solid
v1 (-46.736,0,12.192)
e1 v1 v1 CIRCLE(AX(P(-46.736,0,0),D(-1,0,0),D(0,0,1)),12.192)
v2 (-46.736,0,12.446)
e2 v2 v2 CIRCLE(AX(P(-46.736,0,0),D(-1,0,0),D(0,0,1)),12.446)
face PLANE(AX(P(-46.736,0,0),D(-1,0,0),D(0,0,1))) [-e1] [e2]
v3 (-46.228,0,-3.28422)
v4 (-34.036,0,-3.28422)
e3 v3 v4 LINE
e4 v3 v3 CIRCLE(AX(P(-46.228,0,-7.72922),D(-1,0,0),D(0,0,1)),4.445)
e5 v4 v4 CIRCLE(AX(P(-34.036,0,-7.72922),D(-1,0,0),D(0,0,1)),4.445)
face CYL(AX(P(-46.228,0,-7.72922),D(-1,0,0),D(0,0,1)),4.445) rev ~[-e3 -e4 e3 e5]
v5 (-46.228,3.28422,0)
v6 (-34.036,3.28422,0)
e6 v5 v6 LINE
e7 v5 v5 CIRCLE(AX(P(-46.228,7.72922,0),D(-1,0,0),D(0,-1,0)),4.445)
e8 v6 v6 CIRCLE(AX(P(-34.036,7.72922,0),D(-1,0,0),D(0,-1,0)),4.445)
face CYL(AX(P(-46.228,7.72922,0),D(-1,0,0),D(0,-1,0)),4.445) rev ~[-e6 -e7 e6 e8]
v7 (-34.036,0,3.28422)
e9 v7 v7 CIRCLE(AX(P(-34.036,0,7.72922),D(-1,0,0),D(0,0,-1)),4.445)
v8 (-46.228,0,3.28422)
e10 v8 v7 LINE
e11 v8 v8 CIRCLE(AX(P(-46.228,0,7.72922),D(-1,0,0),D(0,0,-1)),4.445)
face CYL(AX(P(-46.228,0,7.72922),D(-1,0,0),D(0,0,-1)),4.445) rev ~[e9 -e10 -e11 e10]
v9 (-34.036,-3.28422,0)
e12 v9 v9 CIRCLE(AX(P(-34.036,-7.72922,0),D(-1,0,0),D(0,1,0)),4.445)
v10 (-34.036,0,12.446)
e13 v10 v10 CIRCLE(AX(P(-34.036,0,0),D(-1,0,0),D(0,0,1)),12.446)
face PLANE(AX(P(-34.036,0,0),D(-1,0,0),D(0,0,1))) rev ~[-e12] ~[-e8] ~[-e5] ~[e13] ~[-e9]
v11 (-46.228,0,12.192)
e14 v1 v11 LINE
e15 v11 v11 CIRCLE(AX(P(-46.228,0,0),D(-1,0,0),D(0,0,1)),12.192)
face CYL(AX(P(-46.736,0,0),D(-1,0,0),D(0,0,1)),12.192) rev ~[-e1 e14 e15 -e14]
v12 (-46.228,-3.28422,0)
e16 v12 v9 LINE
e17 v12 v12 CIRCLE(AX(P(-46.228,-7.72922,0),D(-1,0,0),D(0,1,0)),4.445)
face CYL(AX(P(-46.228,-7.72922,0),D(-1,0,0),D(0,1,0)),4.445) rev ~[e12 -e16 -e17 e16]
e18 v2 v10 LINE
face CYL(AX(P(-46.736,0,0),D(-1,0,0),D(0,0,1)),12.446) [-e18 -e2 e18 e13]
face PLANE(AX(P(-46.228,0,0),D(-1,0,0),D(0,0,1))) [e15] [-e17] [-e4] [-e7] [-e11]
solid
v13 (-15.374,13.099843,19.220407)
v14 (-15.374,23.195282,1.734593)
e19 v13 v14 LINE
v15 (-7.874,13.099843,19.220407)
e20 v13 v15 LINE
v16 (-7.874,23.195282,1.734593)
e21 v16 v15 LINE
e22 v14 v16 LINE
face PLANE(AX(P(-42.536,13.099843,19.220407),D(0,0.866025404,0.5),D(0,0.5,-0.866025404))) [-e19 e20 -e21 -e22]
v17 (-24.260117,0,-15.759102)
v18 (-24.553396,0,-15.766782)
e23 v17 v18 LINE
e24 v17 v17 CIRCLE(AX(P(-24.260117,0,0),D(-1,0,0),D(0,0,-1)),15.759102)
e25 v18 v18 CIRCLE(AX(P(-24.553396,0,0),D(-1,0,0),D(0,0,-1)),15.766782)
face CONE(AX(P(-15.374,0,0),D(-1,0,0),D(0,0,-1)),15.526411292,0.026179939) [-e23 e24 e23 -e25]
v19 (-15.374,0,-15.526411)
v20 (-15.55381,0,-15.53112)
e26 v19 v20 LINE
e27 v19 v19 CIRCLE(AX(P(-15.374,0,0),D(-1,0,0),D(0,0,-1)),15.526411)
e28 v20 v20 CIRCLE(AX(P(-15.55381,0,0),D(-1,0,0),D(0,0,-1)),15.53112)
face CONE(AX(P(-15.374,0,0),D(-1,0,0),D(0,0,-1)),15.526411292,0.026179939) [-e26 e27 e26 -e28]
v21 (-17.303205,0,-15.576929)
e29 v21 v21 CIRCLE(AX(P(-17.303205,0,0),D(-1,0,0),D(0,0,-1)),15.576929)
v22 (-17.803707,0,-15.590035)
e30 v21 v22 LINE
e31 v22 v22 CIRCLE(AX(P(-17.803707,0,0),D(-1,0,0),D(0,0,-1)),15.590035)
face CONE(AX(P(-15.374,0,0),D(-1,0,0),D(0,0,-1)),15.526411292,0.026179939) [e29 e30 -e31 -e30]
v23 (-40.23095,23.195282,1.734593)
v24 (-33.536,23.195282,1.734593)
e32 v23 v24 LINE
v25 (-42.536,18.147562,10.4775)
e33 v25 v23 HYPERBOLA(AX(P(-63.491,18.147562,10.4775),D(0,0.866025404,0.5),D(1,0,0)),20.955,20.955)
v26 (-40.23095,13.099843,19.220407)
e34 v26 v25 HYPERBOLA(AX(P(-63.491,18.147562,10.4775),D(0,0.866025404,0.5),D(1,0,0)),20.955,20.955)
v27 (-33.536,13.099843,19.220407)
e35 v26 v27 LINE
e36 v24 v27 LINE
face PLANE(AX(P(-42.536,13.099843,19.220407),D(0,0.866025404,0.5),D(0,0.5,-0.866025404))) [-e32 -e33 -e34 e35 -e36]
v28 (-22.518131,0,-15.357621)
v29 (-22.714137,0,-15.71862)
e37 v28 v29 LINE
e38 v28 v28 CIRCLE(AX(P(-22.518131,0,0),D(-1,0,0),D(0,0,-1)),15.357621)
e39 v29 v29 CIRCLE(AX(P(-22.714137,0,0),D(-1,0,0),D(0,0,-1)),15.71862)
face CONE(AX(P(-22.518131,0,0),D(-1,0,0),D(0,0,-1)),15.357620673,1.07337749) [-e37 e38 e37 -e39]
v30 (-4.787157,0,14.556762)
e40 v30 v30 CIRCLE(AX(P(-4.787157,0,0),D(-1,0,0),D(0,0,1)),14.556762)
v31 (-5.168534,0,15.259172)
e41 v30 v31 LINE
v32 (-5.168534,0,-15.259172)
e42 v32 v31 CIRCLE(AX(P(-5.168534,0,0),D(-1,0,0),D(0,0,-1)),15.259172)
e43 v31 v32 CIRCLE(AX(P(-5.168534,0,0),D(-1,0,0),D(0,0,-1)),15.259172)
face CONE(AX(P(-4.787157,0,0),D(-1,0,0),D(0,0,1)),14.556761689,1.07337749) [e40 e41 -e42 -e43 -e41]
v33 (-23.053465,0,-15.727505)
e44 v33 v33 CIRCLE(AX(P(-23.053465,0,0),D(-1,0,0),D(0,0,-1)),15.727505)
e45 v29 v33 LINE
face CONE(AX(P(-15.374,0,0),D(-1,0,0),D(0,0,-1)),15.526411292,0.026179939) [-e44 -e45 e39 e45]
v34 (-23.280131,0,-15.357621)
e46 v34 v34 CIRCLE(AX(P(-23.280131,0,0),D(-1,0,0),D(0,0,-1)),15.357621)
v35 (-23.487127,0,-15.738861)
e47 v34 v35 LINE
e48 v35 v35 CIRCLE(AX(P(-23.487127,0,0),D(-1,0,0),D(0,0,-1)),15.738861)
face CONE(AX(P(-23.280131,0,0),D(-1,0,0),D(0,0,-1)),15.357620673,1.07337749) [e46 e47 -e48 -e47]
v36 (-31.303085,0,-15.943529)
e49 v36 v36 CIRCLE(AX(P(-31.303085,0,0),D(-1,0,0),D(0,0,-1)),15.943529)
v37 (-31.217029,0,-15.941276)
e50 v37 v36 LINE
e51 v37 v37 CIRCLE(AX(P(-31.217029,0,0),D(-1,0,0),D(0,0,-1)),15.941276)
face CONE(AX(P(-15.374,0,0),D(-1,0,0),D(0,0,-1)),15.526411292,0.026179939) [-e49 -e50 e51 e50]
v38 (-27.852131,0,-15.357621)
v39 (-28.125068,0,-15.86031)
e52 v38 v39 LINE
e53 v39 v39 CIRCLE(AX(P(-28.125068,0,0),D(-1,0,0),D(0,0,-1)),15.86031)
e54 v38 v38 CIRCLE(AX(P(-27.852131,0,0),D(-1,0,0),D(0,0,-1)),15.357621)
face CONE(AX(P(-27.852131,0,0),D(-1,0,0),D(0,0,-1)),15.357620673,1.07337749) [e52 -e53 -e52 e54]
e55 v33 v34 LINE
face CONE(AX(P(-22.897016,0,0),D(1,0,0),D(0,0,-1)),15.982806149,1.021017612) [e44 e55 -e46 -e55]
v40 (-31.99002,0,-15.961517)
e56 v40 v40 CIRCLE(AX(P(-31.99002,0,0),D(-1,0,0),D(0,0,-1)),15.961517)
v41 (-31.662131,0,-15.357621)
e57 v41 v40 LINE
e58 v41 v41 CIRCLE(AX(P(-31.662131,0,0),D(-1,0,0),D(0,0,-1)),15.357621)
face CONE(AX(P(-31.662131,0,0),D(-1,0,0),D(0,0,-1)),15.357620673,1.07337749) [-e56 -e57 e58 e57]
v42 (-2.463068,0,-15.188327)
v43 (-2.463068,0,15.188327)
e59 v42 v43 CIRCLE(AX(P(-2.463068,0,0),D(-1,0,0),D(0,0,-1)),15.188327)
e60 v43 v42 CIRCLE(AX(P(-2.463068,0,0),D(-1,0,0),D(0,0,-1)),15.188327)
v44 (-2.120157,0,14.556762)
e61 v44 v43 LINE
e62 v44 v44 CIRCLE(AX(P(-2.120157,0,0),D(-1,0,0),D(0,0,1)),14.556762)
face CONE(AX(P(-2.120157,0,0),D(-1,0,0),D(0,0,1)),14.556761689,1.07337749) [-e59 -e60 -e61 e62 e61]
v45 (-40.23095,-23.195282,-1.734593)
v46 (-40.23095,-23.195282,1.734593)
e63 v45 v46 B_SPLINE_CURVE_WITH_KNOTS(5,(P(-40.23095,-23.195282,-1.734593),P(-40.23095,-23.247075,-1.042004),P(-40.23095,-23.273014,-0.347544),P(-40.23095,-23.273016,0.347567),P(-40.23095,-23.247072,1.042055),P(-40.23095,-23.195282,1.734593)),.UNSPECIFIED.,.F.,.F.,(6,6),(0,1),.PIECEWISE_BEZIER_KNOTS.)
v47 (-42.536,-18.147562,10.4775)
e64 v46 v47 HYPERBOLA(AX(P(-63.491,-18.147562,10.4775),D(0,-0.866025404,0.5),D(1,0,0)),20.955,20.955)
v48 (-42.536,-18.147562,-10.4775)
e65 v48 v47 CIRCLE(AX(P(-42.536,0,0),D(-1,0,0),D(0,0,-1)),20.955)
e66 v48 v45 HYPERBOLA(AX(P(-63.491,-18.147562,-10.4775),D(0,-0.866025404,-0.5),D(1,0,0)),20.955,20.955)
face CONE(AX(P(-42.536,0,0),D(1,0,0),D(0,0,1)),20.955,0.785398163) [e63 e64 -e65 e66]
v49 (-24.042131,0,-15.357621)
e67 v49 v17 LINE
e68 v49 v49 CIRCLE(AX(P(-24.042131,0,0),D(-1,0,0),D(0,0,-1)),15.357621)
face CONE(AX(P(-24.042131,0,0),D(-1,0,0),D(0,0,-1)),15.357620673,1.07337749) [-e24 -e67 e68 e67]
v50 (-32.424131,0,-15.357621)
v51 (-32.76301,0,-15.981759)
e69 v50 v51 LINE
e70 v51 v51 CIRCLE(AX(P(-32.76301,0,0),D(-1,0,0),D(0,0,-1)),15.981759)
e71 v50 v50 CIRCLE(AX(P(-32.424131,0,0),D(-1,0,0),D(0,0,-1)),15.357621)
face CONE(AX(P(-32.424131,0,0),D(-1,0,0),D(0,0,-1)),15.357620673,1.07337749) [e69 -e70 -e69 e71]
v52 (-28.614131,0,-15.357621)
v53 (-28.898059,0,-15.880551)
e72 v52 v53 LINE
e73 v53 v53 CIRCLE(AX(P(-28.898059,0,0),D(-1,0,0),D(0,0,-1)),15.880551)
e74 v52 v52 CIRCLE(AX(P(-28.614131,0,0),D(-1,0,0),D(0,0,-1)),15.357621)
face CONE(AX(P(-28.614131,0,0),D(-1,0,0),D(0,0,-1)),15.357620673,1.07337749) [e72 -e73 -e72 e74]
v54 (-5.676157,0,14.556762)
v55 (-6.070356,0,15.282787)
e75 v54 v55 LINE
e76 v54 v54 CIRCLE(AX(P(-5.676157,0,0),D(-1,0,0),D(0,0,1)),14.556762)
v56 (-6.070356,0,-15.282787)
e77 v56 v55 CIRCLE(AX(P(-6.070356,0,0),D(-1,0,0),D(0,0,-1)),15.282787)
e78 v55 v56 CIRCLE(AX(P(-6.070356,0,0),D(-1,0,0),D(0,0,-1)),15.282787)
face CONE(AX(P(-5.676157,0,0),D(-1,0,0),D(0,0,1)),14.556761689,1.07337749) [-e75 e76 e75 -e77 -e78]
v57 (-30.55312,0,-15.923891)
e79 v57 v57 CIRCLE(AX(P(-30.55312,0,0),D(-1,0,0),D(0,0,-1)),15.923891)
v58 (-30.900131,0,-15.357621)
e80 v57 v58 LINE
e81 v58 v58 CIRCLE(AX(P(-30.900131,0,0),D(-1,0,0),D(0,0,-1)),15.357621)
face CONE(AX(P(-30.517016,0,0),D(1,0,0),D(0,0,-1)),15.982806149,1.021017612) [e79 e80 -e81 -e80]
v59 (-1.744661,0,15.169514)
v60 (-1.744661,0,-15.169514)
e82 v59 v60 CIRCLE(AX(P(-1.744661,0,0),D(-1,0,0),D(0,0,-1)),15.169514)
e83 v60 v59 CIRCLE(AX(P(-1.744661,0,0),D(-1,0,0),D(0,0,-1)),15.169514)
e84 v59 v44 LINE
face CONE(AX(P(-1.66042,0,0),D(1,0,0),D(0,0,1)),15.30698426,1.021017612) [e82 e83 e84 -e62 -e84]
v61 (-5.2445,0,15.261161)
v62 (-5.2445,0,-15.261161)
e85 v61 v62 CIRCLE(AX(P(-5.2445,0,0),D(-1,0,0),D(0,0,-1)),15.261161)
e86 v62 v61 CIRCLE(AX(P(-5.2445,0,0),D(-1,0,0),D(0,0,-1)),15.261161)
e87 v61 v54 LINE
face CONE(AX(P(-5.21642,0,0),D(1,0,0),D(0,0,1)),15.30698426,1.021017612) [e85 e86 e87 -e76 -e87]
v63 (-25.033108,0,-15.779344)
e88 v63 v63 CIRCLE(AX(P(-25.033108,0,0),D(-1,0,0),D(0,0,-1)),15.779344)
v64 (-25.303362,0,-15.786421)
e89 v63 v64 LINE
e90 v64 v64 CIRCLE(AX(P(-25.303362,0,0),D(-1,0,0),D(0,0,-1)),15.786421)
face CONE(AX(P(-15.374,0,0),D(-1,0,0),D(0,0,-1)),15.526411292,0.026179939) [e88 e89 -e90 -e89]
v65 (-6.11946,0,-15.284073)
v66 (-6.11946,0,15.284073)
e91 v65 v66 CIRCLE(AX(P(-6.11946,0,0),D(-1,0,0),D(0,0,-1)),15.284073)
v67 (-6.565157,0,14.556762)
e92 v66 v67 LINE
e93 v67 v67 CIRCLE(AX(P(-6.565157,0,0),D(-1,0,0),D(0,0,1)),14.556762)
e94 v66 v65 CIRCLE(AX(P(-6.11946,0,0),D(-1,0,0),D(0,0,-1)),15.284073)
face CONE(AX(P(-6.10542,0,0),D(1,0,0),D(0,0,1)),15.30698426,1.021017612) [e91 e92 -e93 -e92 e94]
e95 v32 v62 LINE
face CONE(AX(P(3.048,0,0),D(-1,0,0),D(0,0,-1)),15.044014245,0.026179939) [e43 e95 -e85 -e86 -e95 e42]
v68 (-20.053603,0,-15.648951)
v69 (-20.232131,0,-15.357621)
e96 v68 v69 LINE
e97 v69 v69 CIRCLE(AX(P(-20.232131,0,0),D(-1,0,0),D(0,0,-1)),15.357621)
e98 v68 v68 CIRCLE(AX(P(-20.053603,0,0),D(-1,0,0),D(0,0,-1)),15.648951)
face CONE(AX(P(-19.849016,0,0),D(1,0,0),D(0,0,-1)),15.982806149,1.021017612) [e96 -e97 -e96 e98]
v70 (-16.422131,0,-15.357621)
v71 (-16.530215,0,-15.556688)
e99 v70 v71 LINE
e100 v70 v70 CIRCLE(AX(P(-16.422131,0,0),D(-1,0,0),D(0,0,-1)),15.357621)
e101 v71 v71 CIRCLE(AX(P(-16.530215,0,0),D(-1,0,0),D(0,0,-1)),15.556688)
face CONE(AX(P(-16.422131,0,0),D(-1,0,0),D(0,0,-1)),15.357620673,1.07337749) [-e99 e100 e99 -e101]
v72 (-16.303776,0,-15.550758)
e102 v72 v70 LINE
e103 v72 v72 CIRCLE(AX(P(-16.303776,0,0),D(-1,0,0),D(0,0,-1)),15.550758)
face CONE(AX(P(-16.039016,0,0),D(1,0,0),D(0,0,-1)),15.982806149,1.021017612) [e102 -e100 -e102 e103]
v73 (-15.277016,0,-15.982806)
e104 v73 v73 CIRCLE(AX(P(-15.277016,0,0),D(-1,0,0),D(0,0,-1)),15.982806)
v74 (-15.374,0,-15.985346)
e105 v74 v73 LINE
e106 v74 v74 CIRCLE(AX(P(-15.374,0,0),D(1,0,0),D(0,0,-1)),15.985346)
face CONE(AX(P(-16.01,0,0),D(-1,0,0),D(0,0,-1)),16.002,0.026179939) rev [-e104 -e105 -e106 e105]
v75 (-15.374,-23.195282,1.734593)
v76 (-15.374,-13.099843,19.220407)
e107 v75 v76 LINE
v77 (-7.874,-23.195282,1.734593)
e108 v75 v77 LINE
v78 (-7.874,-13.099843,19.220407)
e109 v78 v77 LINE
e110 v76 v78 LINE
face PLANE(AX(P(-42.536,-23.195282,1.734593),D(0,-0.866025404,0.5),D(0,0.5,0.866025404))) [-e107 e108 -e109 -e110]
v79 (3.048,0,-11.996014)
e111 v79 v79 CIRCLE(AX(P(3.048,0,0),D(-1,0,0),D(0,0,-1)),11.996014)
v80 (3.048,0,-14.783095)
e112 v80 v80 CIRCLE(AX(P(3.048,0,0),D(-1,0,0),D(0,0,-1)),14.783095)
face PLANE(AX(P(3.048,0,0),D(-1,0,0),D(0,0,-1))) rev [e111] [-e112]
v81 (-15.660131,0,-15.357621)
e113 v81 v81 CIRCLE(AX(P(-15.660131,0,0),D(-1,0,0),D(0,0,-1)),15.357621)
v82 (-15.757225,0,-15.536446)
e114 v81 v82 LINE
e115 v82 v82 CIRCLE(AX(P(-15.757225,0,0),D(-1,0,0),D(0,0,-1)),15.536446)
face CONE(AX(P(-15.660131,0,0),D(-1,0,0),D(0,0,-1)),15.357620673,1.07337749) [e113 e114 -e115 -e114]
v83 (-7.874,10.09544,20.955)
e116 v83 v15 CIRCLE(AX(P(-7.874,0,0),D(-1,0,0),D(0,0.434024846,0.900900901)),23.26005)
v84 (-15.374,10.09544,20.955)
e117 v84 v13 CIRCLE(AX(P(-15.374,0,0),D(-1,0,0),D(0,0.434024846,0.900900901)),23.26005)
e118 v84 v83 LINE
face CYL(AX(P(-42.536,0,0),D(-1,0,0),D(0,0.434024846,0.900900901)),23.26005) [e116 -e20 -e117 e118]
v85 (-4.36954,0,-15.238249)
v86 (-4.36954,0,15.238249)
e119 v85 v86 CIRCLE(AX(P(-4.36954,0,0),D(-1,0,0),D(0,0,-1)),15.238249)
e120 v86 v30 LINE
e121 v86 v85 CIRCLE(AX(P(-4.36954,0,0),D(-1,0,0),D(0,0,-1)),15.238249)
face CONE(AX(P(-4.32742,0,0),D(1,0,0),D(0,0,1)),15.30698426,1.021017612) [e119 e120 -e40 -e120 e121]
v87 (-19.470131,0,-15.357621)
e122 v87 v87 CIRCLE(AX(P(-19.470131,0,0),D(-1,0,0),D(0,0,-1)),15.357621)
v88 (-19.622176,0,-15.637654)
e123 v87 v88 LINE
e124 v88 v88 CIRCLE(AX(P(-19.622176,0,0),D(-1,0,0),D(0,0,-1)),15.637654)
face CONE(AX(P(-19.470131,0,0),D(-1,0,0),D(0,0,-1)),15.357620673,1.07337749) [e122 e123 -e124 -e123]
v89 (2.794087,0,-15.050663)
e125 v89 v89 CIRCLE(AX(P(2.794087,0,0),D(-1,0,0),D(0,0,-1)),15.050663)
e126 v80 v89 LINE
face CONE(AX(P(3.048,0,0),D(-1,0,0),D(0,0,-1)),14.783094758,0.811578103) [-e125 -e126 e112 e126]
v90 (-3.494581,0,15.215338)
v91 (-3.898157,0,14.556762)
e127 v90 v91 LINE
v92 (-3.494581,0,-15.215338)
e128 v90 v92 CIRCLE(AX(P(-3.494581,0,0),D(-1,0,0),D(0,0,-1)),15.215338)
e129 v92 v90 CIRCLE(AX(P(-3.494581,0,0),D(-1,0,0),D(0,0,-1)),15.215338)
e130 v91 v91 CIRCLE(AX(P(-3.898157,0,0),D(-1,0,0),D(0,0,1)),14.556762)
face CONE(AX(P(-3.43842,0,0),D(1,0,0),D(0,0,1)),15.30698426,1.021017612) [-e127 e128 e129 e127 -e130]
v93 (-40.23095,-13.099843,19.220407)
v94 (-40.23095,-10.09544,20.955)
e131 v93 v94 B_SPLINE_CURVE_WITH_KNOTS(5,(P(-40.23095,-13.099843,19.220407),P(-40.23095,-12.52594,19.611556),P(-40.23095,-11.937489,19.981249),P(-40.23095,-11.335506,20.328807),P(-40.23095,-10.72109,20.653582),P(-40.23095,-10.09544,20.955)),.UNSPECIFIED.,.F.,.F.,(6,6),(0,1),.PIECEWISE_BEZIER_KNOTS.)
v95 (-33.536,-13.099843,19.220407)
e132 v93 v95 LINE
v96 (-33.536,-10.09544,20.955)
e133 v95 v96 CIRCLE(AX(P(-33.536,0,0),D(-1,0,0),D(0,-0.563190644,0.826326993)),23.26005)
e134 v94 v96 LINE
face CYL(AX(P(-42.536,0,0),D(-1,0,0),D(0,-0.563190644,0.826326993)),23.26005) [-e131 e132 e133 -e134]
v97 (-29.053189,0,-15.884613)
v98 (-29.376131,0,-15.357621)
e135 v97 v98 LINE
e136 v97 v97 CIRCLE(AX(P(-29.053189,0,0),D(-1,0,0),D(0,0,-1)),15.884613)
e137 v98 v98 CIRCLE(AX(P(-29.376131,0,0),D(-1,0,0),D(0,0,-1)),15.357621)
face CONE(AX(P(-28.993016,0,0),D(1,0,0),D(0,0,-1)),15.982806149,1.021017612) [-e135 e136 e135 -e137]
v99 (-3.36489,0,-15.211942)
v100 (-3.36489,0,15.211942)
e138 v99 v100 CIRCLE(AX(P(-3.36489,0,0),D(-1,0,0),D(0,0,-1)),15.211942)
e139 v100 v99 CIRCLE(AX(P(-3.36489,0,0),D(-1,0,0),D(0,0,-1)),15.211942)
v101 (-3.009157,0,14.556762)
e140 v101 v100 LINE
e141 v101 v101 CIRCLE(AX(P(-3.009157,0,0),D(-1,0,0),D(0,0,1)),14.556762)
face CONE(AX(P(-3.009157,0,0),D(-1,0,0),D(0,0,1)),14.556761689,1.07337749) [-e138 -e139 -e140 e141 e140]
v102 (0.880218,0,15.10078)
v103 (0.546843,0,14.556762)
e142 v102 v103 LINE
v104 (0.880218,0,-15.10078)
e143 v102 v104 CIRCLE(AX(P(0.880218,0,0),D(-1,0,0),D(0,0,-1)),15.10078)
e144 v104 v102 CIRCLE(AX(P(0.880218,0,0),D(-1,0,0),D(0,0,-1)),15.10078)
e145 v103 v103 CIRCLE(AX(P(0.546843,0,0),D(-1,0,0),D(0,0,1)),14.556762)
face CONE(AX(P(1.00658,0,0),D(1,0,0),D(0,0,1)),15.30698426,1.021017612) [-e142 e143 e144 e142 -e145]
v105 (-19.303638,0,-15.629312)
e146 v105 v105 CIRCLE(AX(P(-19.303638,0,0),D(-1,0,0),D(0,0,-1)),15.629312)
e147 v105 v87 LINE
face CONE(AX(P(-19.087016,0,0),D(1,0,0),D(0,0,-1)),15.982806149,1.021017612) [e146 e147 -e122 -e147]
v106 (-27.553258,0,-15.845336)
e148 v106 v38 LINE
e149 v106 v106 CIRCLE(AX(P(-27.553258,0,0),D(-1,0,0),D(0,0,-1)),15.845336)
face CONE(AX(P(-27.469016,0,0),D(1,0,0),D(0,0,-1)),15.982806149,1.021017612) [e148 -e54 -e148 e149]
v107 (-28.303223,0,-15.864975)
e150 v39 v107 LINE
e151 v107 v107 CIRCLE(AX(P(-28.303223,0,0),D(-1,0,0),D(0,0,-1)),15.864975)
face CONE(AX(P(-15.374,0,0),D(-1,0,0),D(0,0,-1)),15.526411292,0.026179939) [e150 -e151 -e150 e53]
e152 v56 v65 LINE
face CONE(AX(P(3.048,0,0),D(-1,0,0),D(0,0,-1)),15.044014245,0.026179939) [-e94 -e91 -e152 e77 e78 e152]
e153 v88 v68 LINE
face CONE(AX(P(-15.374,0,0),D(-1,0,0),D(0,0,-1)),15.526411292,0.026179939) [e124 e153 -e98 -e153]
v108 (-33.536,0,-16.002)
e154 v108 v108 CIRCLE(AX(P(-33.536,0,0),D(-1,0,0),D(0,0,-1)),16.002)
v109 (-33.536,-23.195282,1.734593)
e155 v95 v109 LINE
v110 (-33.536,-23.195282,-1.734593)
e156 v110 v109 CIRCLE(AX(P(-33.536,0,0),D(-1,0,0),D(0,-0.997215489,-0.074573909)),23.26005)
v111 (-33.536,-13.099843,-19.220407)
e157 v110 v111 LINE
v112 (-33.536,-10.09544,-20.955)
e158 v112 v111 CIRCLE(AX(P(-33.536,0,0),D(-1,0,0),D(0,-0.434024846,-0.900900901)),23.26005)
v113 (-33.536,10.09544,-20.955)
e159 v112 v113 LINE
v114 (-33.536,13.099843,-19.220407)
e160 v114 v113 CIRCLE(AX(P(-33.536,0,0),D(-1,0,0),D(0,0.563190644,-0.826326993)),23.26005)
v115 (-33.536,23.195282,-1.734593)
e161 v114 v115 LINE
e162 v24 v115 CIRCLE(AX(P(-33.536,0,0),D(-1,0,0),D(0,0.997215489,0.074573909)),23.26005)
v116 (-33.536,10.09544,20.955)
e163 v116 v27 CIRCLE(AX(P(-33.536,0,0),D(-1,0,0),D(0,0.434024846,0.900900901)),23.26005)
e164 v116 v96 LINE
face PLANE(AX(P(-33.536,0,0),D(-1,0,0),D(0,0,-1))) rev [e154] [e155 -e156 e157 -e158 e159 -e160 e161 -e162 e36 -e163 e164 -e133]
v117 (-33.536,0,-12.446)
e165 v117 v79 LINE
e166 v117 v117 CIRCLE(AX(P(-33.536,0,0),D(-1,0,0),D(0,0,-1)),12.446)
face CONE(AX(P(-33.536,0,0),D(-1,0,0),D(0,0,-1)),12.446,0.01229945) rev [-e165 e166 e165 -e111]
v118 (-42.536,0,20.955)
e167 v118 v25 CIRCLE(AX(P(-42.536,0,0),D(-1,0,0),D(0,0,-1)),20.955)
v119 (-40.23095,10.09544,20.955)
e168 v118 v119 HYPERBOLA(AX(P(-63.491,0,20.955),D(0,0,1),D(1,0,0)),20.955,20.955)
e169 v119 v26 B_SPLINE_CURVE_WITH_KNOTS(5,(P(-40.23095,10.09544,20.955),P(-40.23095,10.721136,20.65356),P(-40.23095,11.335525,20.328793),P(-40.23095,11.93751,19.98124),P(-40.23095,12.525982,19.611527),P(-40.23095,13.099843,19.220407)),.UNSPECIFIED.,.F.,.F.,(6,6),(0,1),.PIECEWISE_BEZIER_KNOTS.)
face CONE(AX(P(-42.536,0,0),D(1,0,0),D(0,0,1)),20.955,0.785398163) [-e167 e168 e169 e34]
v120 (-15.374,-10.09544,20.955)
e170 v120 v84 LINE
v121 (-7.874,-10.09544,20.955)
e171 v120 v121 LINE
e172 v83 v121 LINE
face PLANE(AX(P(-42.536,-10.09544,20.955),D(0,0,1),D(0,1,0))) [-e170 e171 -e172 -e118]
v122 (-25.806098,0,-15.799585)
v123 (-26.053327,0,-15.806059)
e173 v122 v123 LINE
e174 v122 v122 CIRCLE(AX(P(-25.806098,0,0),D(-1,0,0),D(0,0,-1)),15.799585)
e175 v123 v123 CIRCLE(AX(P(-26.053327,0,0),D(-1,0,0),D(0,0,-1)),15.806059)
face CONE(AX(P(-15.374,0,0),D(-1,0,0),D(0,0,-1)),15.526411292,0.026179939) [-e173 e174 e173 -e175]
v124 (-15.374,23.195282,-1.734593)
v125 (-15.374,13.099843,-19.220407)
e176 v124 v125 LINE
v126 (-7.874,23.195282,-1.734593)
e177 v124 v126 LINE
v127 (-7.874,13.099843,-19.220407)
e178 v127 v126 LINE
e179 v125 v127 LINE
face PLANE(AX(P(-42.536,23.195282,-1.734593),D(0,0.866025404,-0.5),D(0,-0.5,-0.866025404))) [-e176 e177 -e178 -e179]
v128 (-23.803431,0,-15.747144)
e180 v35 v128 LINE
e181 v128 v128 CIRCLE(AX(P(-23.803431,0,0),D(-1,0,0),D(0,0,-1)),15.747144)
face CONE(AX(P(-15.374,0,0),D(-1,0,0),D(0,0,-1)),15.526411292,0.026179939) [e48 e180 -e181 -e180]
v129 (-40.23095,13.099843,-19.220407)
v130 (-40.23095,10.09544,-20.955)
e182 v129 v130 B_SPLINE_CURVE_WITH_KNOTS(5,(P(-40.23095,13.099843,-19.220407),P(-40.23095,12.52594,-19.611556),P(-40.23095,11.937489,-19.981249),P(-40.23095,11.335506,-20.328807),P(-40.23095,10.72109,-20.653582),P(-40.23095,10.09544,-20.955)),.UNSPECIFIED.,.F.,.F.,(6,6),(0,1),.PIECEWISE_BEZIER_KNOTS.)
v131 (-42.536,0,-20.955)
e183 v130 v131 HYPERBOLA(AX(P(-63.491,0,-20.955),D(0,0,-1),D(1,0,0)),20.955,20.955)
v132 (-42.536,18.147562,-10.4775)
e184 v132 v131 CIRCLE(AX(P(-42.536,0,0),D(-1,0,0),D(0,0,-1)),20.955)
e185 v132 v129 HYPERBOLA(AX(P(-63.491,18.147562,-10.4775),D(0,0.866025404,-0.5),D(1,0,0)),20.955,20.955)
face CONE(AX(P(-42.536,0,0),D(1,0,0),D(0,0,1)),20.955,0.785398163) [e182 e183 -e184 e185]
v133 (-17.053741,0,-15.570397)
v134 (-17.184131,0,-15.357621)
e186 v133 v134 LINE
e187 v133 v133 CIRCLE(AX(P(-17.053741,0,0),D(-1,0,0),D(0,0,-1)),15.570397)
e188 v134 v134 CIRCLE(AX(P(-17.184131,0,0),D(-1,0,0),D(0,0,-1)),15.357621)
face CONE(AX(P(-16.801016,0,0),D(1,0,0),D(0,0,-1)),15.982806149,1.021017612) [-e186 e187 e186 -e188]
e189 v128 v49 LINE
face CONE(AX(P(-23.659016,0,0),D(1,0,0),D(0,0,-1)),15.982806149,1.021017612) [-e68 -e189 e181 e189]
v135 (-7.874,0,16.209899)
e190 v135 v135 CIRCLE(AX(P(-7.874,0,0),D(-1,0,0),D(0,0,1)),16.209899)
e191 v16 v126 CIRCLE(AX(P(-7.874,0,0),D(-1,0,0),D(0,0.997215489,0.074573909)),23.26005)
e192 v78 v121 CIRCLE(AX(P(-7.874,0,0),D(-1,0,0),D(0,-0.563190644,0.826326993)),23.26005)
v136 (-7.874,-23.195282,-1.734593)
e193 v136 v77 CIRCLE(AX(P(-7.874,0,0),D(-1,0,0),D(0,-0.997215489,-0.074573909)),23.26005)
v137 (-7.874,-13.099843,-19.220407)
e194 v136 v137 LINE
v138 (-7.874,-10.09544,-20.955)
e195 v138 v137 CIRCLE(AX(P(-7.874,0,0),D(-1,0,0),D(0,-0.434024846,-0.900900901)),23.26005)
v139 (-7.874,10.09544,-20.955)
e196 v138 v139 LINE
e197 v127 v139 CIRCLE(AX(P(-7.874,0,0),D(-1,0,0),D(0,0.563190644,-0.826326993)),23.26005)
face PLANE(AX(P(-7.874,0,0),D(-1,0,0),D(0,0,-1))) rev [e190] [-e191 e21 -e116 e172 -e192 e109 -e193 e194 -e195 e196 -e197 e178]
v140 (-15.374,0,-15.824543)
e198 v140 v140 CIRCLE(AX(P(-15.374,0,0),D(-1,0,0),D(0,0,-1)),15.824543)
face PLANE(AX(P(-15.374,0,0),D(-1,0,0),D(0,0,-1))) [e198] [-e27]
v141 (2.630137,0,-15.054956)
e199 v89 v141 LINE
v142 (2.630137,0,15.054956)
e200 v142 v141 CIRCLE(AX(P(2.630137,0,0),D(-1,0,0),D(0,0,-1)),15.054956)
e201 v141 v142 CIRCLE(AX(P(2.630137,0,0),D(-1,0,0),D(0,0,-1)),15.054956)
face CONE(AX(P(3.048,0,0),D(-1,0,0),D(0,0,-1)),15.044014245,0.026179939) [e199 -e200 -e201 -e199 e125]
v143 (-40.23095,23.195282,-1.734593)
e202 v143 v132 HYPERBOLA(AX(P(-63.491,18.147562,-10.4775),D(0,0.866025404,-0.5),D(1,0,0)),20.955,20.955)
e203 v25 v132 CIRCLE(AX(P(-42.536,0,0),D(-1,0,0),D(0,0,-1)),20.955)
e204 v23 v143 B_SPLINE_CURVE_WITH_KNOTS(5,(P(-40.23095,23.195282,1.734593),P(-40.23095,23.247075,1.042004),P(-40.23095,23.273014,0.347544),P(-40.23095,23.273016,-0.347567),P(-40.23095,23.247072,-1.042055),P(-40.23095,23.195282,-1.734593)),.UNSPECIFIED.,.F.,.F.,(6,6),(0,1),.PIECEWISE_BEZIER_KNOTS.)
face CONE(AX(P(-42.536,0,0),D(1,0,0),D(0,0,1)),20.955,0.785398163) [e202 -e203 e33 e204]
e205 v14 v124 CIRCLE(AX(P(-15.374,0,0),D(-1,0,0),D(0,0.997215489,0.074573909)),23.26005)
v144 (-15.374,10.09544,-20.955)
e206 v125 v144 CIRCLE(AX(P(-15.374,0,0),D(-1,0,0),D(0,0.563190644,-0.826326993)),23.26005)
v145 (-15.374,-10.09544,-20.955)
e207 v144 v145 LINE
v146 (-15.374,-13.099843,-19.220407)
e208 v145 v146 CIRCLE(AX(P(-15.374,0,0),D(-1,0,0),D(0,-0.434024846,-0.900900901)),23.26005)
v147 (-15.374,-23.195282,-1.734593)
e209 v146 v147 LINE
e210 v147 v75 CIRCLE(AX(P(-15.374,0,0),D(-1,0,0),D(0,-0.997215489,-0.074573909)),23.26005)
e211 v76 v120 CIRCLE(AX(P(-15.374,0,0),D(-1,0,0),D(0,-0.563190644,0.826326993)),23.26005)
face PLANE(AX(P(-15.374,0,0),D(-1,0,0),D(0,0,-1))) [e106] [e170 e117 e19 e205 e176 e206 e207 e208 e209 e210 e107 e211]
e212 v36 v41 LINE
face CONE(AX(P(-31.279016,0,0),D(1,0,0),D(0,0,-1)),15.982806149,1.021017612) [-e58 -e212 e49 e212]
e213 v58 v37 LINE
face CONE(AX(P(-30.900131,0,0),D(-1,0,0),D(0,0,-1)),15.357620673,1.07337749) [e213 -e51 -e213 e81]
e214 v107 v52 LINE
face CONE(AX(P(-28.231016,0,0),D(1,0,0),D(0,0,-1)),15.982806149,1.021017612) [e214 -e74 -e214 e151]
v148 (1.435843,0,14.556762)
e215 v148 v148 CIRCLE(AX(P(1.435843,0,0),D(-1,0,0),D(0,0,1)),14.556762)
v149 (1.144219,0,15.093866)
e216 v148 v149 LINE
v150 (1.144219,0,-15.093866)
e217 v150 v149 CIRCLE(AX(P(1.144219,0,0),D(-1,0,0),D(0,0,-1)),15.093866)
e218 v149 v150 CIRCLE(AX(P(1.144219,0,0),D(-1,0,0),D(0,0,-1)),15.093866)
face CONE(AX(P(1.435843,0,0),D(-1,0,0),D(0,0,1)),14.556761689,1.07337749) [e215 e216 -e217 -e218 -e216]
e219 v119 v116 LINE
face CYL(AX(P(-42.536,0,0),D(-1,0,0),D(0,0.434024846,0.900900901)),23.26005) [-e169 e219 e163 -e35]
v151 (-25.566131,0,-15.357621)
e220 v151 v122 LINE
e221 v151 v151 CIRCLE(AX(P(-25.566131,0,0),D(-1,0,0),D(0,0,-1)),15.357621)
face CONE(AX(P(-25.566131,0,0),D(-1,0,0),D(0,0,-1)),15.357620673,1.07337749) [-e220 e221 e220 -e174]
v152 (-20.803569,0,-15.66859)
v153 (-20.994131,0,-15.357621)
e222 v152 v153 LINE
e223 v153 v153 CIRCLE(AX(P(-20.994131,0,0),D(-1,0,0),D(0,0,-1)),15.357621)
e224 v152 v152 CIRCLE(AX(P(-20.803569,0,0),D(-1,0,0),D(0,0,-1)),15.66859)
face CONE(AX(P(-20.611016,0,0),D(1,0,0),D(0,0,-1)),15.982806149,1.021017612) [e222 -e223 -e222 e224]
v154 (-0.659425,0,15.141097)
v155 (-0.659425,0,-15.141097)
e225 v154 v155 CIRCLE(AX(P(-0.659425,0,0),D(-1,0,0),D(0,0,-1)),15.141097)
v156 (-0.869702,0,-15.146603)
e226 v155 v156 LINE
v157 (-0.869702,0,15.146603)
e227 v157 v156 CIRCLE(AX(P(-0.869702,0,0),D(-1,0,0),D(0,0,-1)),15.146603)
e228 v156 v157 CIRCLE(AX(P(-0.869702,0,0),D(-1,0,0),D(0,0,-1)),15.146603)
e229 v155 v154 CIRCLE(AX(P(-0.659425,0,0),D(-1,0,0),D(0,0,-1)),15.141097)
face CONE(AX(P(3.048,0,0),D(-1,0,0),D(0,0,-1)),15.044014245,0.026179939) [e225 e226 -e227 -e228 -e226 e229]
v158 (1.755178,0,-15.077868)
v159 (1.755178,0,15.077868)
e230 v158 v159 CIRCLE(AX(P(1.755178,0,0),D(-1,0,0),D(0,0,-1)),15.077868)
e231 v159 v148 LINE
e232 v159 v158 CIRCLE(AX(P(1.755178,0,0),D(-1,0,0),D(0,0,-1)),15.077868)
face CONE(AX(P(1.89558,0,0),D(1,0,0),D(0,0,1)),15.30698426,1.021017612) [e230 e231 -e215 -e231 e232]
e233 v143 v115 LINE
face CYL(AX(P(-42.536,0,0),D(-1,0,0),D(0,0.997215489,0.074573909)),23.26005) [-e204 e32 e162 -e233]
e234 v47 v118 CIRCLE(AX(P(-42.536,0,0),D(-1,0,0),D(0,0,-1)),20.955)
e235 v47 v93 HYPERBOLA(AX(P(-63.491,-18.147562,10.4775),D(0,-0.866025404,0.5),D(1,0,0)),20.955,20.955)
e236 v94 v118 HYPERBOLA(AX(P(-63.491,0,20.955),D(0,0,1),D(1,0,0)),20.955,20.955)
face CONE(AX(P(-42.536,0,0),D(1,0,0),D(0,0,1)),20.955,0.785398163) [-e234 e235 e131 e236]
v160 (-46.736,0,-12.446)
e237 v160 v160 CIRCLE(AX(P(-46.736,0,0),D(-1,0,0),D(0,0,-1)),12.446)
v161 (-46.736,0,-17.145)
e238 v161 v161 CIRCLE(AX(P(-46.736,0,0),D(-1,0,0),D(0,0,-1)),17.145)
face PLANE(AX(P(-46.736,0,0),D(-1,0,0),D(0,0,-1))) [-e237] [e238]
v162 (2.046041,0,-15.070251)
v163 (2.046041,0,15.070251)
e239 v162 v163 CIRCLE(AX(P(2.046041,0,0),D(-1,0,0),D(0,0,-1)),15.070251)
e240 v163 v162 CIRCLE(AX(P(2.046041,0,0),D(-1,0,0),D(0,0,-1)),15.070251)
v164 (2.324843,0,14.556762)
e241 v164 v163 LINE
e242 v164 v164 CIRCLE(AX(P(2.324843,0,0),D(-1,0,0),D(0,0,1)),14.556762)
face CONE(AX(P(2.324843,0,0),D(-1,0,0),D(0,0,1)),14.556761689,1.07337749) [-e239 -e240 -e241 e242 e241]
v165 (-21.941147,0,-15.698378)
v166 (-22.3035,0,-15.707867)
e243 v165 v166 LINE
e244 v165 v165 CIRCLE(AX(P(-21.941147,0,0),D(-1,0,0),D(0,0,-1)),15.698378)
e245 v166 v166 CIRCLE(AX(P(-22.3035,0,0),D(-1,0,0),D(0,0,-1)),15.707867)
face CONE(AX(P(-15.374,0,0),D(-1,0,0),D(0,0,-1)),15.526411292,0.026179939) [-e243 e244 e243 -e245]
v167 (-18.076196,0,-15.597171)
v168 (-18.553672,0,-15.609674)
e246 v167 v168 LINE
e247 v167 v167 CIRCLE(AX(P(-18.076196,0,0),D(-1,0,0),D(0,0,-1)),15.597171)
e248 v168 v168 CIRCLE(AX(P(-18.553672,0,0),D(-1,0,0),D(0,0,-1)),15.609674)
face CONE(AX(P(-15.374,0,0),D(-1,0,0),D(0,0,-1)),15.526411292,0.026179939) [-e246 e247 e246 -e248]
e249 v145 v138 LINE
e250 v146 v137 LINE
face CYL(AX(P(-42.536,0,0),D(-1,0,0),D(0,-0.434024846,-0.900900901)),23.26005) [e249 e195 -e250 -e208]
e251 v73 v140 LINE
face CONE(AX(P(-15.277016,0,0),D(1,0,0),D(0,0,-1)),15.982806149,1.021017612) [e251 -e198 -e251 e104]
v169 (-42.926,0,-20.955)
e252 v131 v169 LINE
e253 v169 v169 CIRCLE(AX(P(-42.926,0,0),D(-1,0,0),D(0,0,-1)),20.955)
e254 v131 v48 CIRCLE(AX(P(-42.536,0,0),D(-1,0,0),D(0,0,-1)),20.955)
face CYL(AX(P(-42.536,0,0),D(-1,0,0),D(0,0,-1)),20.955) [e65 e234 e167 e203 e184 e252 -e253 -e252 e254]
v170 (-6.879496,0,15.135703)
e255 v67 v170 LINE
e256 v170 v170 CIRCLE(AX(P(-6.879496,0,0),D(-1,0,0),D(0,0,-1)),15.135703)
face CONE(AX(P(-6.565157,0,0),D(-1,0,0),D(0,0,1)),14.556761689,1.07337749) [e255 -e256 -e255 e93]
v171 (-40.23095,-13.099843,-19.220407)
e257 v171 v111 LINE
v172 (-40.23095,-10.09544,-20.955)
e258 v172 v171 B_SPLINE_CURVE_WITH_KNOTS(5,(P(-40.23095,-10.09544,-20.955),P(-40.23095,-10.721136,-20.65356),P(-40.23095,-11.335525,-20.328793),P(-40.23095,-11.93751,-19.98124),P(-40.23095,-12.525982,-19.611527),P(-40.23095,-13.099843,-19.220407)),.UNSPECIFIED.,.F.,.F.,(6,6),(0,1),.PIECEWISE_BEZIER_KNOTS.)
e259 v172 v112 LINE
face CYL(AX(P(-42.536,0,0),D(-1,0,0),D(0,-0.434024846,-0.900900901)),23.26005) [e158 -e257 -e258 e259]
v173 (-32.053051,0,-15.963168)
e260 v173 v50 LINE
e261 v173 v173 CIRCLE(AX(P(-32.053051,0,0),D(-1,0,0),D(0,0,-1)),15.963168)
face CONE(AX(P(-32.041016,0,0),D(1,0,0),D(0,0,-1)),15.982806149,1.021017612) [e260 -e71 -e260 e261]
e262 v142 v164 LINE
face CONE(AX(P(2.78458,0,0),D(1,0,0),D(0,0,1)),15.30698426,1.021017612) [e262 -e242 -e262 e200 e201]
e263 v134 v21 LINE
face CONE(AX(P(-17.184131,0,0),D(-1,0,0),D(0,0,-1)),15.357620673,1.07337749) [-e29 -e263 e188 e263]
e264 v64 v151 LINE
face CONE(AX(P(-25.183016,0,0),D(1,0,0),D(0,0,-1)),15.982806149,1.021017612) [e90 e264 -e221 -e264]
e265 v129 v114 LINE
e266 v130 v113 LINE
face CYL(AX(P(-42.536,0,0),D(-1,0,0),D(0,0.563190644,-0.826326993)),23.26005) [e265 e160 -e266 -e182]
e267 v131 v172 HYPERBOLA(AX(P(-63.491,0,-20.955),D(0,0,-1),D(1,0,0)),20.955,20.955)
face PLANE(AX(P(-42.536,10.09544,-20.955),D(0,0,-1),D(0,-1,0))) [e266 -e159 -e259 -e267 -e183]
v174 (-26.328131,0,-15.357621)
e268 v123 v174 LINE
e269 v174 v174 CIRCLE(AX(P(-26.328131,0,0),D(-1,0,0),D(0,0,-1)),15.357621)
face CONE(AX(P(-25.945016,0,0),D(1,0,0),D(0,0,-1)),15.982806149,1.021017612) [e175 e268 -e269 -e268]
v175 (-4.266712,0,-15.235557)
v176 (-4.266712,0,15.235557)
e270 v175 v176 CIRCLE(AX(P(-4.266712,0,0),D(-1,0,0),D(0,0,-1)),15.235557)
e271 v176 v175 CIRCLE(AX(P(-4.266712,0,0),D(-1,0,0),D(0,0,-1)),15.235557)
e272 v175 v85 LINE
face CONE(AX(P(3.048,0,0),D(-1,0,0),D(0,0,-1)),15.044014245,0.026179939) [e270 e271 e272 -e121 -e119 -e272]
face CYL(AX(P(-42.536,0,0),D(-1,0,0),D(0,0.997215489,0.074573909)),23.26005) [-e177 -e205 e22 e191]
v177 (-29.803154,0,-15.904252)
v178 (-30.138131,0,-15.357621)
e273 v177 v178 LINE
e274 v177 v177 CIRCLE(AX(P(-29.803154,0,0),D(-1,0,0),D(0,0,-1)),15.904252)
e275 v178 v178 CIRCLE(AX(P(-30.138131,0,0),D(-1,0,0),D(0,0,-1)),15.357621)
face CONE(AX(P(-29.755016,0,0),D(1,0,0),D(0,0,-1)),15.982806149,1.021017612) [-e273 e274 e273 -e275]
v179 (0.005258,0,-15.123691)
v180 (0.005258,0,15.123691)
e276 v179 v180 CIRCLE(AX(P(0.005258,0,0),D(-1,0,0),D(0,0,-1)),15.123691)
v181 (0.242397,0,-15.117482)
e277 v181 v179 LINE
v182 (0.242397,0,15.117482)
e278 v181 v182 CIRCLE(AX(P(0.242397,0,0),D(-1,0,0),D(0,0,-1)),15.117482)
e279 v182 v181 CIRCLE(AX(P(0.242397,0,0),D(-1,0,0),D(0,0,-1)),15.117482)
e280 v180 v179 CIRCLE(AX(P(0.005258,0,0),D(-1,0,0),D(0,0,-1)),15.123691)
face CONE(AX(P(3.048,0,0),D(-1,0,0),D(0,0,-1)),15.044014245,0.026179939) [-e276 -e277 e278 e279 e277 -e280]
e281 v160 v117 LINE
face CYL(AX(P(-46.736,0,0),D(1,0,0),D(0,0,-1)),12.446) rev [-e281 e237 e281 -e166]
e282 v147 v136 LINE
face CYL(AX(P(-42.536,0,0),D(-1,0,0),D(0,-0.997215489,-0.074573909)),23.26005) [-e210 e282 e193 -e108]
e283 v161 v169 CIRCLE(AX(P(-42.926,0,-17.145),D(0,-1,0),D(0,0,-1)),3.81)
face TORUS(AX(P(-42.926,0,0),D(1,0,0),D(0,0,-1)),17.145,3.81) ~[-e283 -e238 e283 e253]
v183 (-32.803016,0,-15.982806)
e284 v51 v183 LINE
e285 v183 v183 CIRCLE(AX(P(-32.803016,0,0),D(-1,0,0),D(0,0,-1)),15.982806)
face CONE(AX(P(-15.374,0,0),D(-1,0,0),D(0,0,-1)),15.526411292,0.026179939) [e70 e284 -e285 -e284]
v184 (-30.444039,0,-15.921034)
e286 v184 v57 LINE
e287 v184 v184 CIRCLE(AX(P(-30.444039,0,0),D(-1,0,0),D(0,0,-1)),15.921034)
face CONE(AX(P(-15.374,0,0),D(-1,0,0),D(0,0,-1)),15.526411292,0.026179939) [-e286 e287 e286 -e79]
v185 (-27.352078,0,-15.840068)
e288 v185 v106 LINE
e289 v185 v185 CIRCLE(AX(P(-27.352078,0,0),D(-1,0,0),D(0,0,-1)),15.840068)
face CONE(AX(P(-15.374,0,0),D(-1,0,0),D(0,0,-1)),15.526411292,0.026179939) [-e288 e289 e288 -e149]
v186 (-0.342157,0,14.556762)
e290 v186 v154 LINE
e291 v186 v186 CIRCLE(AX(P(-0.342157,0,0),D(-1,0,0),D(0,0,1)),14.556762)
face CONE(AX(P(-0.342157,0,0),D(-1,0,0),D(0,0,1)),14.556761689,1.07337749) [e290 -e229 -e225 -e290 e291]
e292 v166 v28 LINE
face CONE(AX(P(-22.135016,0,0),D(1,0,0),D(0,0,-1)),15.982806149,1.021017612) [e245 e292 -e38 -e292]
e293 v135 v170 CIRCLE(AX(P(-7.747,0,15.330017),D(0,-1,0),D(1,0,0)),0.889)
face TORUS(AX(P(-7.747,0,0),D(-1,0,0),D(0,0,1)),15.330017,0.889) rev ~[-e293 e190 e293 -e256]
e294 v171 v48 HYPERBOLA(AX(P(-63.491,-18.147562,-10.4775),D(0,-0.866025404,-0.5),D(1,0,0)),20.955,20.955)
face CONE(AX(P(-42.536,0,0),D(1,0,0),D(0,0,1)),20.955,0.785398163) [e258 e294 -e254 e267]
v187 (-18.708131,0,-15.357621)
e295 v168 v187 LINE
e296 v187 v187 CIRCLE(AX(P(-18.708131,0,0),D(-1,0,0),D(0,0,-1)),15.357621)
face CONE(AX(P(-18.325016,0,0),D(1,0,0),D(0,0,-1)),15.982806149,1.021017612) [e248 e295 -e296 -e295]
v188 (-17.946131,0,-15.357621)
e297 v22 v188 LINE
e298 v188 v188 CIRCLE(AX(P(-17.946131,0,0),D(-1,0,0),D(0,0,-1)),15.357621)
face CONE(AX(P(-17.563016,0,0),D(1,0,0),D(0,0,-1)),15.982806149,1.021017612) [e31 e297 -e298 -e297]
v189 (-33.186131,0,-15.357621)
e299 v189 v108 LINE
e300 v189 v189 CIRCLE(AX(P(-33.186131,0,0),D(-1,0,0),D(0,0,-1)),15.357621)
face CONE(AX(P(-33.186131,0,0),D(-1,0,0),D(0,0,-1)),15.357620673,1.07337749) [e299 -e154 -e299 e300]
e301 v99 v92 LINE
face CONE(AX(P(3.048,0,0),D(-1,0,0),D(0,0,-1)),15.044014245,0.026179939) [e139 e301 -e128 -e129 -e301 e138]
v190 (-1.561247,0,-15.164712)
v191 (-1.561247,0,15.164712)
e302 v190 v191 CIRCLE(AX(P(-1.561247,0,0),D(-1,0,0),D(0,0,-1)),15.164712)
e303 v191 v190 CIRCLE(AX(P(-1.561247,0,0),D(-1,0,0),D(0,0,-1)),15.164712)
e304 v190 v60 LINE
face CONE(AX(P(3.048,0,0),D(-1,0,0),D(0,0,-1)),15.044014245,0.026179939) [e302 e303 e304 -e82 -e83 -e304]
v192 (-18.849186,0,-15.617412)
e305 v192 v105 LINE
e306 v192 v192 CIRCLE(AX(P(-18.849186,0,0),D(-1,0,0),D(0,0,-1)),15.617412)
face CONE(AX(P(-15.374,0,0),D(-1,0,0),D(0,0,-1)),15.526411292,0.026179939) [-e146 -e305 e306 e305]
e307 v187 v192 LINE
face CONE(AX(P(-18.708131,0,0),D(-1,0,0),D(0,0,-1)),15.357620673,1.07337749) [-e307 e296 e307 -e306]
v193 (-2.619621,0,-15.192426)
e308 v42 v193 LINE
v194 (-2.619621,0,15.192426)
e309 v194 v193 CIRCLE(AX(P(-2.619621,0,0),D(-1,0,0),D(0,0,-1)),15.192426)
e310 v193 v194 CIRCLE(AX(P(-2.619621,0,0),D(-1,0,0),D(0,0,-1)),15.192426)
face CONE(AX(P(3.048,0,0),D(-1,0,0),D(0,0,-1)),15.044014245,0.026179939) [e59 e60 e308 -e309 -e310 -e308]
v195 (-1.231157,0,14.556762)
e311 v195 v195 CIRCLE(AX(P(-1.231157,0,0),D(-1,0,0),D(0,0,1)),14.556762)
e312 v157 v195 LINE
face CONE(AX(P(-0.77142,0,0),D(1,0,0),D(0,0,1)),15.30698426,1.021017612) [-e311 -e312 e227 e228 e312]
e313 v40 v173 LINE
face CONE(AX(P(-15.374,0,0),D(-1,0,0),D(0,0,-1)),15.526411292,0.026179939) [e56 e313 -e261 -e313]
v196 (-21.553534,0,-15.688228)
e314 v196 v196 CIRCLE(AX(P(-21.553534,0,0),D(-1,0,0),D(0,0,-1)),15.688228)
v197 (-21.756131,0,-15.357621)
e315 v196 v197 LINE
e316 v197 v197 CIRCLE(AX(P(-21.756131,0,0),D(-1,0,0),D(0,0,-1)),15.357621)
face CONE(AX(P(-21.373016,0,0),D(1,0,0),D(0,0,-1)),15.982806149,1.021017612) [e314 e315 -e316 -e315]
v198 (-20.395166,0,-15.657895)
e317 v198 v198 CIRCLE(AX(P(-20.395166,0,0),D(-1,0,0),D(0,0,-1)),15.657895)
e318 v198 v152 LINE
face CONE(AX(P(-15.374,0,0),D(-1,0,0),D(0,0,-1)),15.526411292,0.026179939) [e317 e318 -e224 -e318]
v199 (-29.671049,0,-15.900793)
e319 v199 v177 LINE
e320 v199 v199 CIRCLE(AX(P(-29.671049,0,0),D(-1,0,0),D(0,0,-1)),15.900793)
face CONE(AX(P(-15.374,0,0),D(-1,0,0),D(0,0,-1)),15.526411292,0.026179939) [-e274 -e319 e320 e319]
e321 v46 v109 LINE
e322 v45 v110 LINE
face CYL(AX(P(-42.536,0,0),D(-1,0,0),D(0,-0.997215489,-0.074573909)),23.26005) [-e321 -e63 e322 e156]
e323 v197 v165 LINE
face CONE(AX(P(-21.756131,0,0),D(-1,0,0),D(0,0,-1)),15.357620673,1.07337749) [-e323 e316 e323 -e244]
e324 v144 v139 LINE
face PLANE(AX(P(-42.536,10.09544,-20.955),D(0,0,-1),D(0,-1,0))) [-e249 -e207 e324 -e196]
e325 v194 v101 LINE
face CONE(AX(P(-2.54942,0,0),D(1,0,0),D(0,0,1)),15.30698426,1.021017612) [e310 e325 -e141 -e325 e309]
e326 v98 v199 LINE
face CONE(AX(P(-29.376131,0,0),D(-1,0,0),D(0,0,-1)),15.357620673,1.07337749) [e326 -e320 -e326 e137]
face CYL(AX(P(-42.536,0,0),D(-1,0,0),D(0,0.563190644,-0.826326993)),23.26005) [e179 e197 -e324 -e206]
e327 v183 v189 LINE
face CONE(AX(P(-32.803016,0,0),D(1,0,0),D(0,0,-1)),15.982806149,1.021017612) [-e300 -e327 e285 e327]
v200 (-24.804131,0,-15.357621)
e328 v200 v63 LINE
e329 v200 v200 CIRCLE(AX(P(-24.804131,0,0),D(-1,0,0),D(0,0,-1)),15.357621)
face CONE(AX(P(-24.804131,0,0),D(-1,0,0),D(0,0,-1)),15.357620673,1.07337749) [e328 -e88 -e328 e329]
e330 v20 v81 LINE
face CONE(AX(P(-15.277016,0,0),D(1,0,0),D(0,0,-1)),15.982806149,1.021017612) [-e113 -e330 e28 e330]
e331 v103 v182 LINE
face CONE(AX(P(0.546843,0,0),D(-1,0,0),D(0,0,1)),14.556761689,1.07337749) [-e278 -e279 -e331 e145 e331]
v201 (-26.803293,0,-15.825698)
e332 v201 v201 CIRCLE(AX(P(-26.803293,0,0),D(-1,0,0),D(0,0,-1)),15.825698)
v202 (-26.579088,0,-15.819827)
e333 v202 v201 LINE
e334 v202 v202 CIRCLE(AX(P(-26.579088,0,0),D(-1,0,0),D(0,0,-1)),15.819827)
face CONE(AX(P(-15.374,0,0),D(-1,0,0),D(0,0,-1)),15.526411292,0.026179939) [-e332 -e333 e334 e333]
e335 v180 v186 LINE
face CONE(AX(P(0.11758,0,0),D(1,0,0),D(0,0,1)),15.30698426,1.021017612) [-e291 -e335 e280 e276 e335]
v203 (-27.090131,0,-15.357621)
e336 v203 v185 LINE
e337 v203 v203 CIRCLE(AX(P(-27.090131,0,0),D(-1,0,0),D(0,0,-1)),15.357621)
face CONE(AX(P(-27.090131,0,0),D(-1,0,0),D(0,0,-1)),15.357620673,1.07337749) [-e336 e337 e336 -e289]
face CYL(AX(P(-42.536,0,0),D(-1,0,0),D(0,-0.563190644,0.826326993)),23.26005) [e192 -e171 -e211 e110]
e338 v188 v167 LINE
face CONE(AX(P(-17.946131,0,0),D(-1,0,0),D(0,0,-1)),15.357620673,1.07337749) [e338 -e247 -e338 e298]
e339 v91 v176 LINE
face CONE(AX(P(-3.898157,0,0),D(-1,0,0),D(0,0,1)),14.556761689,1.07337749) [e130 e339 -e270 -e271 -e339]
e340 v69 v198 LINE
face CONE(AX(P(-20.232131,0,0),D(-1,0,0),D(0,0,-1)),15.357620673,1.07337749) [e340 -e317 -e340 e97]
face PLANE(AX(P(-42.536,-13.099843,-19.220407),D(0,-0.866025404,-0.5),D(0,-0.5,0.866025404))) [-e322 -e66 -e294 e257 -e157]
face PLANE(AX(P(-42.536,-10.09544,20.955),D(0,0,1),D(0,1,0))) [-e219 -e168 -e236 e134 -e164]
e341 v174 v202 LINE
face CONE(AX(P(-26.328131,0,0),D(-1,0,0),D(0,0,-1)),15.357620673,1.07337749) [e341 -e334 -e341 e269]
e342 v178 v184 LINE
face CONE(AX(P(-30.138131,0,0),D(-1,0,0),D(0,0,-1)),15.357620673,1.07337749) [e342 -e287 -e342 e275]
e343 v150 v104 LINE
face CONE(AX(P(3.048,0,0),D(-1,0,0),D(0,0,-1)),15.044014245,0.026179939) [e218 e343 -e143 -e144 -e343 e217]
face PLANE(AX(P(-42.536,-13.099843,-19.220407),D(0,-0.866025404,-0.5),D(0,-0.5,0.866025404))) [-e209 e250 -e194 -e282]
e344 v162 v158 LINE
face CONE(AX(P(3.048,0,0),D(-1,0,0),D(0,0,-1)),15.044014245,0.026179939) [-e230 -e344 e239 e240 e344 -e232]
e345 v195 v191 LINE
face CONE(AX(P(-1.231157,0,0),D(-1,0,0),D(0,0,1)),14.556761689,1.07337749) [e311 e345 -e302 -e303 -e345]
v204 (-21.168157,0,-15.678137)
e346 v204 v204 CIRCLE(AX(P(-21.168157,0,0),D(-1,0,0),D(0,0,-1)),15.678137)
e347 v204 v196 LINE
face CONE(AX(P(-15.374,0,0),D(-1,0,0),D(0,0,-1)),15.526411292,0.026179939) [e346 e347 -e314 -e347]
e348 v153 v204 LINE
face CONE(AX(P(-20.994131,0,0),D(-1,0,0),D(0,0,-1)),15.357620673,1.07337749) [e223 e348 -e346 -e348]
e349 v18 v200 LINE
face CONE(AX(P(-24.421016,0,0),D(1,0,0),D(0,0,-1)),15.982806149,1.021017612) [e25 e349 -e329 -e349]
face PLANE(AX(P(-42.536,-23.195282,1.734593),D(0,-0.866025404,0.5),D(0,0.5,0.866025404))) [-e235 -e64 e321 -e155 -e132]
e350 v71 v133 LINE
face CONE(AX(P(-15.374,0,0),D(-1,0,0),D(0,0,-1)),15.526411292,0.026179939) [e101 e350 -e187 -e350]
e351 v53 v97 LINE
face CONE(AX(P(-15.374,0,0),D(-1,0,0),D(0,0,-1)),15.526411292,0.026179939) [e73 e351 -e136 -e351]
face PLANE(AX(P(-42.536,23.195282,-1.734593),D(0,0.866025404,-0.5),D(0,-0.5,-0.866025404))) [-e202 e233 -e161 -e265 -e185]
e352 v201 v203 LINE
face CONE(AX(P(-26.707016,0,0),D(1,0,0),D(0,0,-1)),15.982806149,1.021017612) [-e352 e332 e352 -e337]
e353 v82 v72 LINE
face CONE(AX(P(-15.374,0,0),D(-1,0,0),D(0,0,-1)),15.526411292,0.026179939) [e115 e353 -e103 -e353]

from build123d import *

# Parameters (mm, degrees)
SKETCH12_OUTSIDE_W = 111.534
SKETCH12_OUTSIDE_H = 111.534
CUT_EXTRUDE2_DEPTH = 46.584
FILLET4_R          = 3.81
SKETCH19_OUTSIDE_W = 67.904
SKETCH19_OUTSIDE_H = 72.514
SKETCH19_OUTSIDE_R = 20.955
CUT_EXTRUDE3_DEPTH = 3.99796
CUT_EXTRUDE3_DRAFT = -45
CHAMFER1_SIZE      = 0.260919487
CHAMFER1_SIZE2     = 0.254
SKETCH21_R         = 12.446
PLUG_DEPTH         = 12.7
SKETCH22_R         = 12.192
CUT_EXTRUDE4_DEPTH = 0.508
SKETCH27_R         = 4.445
PLUGHOLES_DEPTH    = 50.276
CIRPATTERN1_COUNT  = 4
LPATTERN1_COUNT    = 24
LPATTERN1_PITCH    = 0.762
LPATTERN2_COUNT    = 12
LPATTERN2_PITCH    = 0.889
SKETCH32_R         = 0.889


with BuildPart() as part:
    # Sketch10 → Revolve2 (revolve)
    with BuildSketch(Plane.XY, mode=Mode.PRIVATE) as revolve2_sk:
        Polygon((-46.736, 12.446), (-33.536, 12.446), (3.048, 11.996014245), (3.048, 15.044014245), (-7.874, 15.330016881), (-7.874, 41.91), (-15.374, 41.91), (-15.374, 15.526411292), (-33.536, 16.002), (-33.536, 41.91), (-42.536, 41.91), (-42.536, 20.955), (-46.736, 20.955), align=None)
    revolve(revolve2_sk.sketch.rotate(Axis((0, 0, 0), (-1, 0, 0)), 90), axis=Axis((0, 0, 0), (-1, 0, 0)))  # turned: the seam where the file's is

    # Sketch12 outside → Cut-Extrude2 (cut, through all)
    with BuildSketch(Plane.ZY.offset(42.536)):
        Rectangle(SKETCH12_OUTSIDE_W, SKETCH12_OUTSIDE_H)
        with BuildLine():
            Line((-1.734592832, 23.195282143), (-19.220407168, 13.099842529))
            ThreePointArc((-19.220407168, 13.099842529), (-20.143794193, 11.630025), (-20.955, 10.095439614))
            Line((-20.955, 10.095439614), (-20.955, -10.095439614))
            ThreePointArc((-20.955, -10.095439614), (-20.143794193, -11.630025), (-19.220407168, -13.099842529))
            Line((-19.220407168, -13.099842529), (-1.734592832, -23.195282143))
            ThreePointArc((-1.734592832, -23.195282143), (0, -23.26005), (1.734592832, -23.195282143))
            Line((1.734592832, -23.195282143), (19.220407168, -13.099842529))
            ThreePointArc((19.220407168, -13.099842529), (20.143794193, -11.630025), (20.955, -10.095439614))
            Line((20.955, -10.095439614), (20.955, 10.095439614))
            ThreePointArc((20.955, 10.095439614), (20.143794193, 11.630025), (19.220407168, 13.099842529))
            Line((19.220407168, 13.099842529), (1.734592832, 23.195282143))
            ThreePointArc((1.734592832, 23.195282143), (0, 23.26005), (-1.734592832, 23.195282143))
        make_face(mode=Mode.SUBTRACT)
    extrude(amount=-CUT_EXTRUDE2_DEPTH, mode=Mode.SUBTRACT)

    # Fillet4
    fillet4_edges = [part.edges().sort_by_distance(p)[0] for p in [
        (-46.736, 0, 20.955),
    ]]
    fillet(fillet4_edges, radius=FILLET4_R)


with BuildPart() as cut_extrude3_tool:
    # Sketch19 outside → Cut-Extrude3 (with draft: the straight prism first)
    with BuildSketch(Plane.ZY.offset(42.536)):
        Rectangle(SKETCH19_OUTSIDE_W, SKETCH19_OUTSIDE_H)
        Circle(SKETCH19_OUTSIDE_R, mode=Mode.SUBTRACT)
    extrude(amount=-CUT_EXTRUDE3_DEPTH)
    # Cut-Extrude3: the draft: its side faces are tilted about the plane it starts from
    cut_extrude3_sides = [cut_extrude3_tool.faces().sort_by_distance(p)[0] for p in [
        (-40.53702, -36.257, 0),
        (-40.53702, 0, 33.952),
        (-40.53702, 36.257, 0),
        (-40.53702, 0, -33.952),
        (-40.53702, 0, -20.955),
    ]]
    draft(cut_extrude3_sides, Plane.ZY.offset(42.536), CUT_EXTRUDE3_DRAFT)


with BuildPart() as part_1:
    add(part.part)

    # Cut-Extrude3: cut by cut_extrude3_tool
    add(cut_extrude3_tool.part, mode=Mode.SUBTRACT)

    # Chamfer1
    chamfer1_edges = [part_1.edges().sort_by_distance(p)[0] for p in [
        (3.048, 0, 15.044014245),
    ]]
    chamfer1_side = [part_1.faces().sort_by_distance(p)[0] for p in [
        (3.048, 0, 12.421523225),
    ]]
    chamfer(chamfer1_edges, length=CHAMFER1_SIZE, length2=CHAMFER1_SIZE2, reference=chamfer1_side[0])

    # Sketch29 → Cut-Revolve1 (revolve, cut)
    with BuildSketch(Plane.XY, mode=Mode.PRIVATE) as cut_revolve1_sk:
        Polygon((-33.536, 16.002), (-32.803016419, 15.982806149), (-33.186130572, 15.357620673), align=None)
    cut_revolve1 = revolve(cut_revolve1_sk.sketch.rotate(Axis((0, 0, 0), (-1, 0, 0)), 90), axis=Axis((0, 0, 0), (-1, 0, 0)), mode=Mode.SUBTRACT)  # turned: the seam where the file's is

    # LPattern1: Cut-Revolve1 ×24
    with Locations(*[(i * LPATTERN1_PITCH, 0, 0) for i in range(1, LPATTERN1_COUNT)]):
        add(cut_revolve1, mode=Mode.SUBTRACT)

    # Sketch30 → Cut-Revolve2 (revolve, cut)
    with BuildSketch(Plane.XY, mode=Mode.PRIVATE) as cut_revolve2_sk:
        Polygon((-7.874, 15.330016881), (-6.994419703, 15.30698426), (-7.454156686, 14.556761689), align=None)
    cut_revolve2 = revolve(cut_revolve2_sk.sketch.rotate(Axis((0, 0, 0), (-1, 0, 0)), 270), axis=Axis((0, 0, 0), (-1, 0, 0)), mode=Mode.SUBTRACT)  # turned: the seam where the file's is

    # LPattern2: Cut-Revolve2 ×12
    with Locations(*[(i * LPATTERN2_PITCH, 0, 0) for i in range(1, LPATTERN2_COUNT)]):
        add(cut_revolve2, mode=Mode.SUBTRACT)

    # Sketch32 → Cut-Revolve3 (revolve, cut)
    with BuildSketch(Plane.XY, mode=Mode.PRIVATE) as cut_revolve3_sk:
        with Locations((-7.747, 15.330016881)):
            Circle(SKETCH32_R)
    revolve(cut_revolve3_sk.sketch.rotate(Axis((0, 0, 0), (-1, 0, 0)), 270), axis=Axis((0, 0, 0), (-1, 0, 0)), mode=Mode.SUBTRACT)  # turned: the seam where the file's is


with BuildPart() as body_2:
    # Sketch21 → plug (new body)
    with BuildSketch(Plane.ZY.offset(46.736)):
        Circle(SKETCH21_R)
    extrude(amount=-PLUG_DEPTH)

    # Sketch22 → Cut-Extrude4 (cut)
    with BuildSketch(Plane.ZY.offset(46.736)):
        Circle(SKETCH22_R)
    extrude(amount=-CUT_EXTRUDE4_DEPTH, mode=Mode.SUBTRACT)

    # Sketch27 → plugholes (cut, through all)
    with BuildSketch(Plane.ZY.offset(46.228)):
        with Locations((-7.72922, 0)):
            Circle(SKETCH27_R)
    plugholes = extrude(amount=-PLUGHOLES_DEPTH, mode=Mode.SUBTRACT)

    # CirPattern1: plugholes ×4 about axis
    cirpattern1_axis = Axis((0, 0, 0), (1, 0, 0))
    for i in range(1, CIRPATTERN1_COUNT):
        add(plugholes.rotate(cirpattern1_axis, i * 360 / CIRPATTERN1_COUNT), mode=Mode.SUBTRACT)


solid = Compound([part_1.part, body_2.part])
